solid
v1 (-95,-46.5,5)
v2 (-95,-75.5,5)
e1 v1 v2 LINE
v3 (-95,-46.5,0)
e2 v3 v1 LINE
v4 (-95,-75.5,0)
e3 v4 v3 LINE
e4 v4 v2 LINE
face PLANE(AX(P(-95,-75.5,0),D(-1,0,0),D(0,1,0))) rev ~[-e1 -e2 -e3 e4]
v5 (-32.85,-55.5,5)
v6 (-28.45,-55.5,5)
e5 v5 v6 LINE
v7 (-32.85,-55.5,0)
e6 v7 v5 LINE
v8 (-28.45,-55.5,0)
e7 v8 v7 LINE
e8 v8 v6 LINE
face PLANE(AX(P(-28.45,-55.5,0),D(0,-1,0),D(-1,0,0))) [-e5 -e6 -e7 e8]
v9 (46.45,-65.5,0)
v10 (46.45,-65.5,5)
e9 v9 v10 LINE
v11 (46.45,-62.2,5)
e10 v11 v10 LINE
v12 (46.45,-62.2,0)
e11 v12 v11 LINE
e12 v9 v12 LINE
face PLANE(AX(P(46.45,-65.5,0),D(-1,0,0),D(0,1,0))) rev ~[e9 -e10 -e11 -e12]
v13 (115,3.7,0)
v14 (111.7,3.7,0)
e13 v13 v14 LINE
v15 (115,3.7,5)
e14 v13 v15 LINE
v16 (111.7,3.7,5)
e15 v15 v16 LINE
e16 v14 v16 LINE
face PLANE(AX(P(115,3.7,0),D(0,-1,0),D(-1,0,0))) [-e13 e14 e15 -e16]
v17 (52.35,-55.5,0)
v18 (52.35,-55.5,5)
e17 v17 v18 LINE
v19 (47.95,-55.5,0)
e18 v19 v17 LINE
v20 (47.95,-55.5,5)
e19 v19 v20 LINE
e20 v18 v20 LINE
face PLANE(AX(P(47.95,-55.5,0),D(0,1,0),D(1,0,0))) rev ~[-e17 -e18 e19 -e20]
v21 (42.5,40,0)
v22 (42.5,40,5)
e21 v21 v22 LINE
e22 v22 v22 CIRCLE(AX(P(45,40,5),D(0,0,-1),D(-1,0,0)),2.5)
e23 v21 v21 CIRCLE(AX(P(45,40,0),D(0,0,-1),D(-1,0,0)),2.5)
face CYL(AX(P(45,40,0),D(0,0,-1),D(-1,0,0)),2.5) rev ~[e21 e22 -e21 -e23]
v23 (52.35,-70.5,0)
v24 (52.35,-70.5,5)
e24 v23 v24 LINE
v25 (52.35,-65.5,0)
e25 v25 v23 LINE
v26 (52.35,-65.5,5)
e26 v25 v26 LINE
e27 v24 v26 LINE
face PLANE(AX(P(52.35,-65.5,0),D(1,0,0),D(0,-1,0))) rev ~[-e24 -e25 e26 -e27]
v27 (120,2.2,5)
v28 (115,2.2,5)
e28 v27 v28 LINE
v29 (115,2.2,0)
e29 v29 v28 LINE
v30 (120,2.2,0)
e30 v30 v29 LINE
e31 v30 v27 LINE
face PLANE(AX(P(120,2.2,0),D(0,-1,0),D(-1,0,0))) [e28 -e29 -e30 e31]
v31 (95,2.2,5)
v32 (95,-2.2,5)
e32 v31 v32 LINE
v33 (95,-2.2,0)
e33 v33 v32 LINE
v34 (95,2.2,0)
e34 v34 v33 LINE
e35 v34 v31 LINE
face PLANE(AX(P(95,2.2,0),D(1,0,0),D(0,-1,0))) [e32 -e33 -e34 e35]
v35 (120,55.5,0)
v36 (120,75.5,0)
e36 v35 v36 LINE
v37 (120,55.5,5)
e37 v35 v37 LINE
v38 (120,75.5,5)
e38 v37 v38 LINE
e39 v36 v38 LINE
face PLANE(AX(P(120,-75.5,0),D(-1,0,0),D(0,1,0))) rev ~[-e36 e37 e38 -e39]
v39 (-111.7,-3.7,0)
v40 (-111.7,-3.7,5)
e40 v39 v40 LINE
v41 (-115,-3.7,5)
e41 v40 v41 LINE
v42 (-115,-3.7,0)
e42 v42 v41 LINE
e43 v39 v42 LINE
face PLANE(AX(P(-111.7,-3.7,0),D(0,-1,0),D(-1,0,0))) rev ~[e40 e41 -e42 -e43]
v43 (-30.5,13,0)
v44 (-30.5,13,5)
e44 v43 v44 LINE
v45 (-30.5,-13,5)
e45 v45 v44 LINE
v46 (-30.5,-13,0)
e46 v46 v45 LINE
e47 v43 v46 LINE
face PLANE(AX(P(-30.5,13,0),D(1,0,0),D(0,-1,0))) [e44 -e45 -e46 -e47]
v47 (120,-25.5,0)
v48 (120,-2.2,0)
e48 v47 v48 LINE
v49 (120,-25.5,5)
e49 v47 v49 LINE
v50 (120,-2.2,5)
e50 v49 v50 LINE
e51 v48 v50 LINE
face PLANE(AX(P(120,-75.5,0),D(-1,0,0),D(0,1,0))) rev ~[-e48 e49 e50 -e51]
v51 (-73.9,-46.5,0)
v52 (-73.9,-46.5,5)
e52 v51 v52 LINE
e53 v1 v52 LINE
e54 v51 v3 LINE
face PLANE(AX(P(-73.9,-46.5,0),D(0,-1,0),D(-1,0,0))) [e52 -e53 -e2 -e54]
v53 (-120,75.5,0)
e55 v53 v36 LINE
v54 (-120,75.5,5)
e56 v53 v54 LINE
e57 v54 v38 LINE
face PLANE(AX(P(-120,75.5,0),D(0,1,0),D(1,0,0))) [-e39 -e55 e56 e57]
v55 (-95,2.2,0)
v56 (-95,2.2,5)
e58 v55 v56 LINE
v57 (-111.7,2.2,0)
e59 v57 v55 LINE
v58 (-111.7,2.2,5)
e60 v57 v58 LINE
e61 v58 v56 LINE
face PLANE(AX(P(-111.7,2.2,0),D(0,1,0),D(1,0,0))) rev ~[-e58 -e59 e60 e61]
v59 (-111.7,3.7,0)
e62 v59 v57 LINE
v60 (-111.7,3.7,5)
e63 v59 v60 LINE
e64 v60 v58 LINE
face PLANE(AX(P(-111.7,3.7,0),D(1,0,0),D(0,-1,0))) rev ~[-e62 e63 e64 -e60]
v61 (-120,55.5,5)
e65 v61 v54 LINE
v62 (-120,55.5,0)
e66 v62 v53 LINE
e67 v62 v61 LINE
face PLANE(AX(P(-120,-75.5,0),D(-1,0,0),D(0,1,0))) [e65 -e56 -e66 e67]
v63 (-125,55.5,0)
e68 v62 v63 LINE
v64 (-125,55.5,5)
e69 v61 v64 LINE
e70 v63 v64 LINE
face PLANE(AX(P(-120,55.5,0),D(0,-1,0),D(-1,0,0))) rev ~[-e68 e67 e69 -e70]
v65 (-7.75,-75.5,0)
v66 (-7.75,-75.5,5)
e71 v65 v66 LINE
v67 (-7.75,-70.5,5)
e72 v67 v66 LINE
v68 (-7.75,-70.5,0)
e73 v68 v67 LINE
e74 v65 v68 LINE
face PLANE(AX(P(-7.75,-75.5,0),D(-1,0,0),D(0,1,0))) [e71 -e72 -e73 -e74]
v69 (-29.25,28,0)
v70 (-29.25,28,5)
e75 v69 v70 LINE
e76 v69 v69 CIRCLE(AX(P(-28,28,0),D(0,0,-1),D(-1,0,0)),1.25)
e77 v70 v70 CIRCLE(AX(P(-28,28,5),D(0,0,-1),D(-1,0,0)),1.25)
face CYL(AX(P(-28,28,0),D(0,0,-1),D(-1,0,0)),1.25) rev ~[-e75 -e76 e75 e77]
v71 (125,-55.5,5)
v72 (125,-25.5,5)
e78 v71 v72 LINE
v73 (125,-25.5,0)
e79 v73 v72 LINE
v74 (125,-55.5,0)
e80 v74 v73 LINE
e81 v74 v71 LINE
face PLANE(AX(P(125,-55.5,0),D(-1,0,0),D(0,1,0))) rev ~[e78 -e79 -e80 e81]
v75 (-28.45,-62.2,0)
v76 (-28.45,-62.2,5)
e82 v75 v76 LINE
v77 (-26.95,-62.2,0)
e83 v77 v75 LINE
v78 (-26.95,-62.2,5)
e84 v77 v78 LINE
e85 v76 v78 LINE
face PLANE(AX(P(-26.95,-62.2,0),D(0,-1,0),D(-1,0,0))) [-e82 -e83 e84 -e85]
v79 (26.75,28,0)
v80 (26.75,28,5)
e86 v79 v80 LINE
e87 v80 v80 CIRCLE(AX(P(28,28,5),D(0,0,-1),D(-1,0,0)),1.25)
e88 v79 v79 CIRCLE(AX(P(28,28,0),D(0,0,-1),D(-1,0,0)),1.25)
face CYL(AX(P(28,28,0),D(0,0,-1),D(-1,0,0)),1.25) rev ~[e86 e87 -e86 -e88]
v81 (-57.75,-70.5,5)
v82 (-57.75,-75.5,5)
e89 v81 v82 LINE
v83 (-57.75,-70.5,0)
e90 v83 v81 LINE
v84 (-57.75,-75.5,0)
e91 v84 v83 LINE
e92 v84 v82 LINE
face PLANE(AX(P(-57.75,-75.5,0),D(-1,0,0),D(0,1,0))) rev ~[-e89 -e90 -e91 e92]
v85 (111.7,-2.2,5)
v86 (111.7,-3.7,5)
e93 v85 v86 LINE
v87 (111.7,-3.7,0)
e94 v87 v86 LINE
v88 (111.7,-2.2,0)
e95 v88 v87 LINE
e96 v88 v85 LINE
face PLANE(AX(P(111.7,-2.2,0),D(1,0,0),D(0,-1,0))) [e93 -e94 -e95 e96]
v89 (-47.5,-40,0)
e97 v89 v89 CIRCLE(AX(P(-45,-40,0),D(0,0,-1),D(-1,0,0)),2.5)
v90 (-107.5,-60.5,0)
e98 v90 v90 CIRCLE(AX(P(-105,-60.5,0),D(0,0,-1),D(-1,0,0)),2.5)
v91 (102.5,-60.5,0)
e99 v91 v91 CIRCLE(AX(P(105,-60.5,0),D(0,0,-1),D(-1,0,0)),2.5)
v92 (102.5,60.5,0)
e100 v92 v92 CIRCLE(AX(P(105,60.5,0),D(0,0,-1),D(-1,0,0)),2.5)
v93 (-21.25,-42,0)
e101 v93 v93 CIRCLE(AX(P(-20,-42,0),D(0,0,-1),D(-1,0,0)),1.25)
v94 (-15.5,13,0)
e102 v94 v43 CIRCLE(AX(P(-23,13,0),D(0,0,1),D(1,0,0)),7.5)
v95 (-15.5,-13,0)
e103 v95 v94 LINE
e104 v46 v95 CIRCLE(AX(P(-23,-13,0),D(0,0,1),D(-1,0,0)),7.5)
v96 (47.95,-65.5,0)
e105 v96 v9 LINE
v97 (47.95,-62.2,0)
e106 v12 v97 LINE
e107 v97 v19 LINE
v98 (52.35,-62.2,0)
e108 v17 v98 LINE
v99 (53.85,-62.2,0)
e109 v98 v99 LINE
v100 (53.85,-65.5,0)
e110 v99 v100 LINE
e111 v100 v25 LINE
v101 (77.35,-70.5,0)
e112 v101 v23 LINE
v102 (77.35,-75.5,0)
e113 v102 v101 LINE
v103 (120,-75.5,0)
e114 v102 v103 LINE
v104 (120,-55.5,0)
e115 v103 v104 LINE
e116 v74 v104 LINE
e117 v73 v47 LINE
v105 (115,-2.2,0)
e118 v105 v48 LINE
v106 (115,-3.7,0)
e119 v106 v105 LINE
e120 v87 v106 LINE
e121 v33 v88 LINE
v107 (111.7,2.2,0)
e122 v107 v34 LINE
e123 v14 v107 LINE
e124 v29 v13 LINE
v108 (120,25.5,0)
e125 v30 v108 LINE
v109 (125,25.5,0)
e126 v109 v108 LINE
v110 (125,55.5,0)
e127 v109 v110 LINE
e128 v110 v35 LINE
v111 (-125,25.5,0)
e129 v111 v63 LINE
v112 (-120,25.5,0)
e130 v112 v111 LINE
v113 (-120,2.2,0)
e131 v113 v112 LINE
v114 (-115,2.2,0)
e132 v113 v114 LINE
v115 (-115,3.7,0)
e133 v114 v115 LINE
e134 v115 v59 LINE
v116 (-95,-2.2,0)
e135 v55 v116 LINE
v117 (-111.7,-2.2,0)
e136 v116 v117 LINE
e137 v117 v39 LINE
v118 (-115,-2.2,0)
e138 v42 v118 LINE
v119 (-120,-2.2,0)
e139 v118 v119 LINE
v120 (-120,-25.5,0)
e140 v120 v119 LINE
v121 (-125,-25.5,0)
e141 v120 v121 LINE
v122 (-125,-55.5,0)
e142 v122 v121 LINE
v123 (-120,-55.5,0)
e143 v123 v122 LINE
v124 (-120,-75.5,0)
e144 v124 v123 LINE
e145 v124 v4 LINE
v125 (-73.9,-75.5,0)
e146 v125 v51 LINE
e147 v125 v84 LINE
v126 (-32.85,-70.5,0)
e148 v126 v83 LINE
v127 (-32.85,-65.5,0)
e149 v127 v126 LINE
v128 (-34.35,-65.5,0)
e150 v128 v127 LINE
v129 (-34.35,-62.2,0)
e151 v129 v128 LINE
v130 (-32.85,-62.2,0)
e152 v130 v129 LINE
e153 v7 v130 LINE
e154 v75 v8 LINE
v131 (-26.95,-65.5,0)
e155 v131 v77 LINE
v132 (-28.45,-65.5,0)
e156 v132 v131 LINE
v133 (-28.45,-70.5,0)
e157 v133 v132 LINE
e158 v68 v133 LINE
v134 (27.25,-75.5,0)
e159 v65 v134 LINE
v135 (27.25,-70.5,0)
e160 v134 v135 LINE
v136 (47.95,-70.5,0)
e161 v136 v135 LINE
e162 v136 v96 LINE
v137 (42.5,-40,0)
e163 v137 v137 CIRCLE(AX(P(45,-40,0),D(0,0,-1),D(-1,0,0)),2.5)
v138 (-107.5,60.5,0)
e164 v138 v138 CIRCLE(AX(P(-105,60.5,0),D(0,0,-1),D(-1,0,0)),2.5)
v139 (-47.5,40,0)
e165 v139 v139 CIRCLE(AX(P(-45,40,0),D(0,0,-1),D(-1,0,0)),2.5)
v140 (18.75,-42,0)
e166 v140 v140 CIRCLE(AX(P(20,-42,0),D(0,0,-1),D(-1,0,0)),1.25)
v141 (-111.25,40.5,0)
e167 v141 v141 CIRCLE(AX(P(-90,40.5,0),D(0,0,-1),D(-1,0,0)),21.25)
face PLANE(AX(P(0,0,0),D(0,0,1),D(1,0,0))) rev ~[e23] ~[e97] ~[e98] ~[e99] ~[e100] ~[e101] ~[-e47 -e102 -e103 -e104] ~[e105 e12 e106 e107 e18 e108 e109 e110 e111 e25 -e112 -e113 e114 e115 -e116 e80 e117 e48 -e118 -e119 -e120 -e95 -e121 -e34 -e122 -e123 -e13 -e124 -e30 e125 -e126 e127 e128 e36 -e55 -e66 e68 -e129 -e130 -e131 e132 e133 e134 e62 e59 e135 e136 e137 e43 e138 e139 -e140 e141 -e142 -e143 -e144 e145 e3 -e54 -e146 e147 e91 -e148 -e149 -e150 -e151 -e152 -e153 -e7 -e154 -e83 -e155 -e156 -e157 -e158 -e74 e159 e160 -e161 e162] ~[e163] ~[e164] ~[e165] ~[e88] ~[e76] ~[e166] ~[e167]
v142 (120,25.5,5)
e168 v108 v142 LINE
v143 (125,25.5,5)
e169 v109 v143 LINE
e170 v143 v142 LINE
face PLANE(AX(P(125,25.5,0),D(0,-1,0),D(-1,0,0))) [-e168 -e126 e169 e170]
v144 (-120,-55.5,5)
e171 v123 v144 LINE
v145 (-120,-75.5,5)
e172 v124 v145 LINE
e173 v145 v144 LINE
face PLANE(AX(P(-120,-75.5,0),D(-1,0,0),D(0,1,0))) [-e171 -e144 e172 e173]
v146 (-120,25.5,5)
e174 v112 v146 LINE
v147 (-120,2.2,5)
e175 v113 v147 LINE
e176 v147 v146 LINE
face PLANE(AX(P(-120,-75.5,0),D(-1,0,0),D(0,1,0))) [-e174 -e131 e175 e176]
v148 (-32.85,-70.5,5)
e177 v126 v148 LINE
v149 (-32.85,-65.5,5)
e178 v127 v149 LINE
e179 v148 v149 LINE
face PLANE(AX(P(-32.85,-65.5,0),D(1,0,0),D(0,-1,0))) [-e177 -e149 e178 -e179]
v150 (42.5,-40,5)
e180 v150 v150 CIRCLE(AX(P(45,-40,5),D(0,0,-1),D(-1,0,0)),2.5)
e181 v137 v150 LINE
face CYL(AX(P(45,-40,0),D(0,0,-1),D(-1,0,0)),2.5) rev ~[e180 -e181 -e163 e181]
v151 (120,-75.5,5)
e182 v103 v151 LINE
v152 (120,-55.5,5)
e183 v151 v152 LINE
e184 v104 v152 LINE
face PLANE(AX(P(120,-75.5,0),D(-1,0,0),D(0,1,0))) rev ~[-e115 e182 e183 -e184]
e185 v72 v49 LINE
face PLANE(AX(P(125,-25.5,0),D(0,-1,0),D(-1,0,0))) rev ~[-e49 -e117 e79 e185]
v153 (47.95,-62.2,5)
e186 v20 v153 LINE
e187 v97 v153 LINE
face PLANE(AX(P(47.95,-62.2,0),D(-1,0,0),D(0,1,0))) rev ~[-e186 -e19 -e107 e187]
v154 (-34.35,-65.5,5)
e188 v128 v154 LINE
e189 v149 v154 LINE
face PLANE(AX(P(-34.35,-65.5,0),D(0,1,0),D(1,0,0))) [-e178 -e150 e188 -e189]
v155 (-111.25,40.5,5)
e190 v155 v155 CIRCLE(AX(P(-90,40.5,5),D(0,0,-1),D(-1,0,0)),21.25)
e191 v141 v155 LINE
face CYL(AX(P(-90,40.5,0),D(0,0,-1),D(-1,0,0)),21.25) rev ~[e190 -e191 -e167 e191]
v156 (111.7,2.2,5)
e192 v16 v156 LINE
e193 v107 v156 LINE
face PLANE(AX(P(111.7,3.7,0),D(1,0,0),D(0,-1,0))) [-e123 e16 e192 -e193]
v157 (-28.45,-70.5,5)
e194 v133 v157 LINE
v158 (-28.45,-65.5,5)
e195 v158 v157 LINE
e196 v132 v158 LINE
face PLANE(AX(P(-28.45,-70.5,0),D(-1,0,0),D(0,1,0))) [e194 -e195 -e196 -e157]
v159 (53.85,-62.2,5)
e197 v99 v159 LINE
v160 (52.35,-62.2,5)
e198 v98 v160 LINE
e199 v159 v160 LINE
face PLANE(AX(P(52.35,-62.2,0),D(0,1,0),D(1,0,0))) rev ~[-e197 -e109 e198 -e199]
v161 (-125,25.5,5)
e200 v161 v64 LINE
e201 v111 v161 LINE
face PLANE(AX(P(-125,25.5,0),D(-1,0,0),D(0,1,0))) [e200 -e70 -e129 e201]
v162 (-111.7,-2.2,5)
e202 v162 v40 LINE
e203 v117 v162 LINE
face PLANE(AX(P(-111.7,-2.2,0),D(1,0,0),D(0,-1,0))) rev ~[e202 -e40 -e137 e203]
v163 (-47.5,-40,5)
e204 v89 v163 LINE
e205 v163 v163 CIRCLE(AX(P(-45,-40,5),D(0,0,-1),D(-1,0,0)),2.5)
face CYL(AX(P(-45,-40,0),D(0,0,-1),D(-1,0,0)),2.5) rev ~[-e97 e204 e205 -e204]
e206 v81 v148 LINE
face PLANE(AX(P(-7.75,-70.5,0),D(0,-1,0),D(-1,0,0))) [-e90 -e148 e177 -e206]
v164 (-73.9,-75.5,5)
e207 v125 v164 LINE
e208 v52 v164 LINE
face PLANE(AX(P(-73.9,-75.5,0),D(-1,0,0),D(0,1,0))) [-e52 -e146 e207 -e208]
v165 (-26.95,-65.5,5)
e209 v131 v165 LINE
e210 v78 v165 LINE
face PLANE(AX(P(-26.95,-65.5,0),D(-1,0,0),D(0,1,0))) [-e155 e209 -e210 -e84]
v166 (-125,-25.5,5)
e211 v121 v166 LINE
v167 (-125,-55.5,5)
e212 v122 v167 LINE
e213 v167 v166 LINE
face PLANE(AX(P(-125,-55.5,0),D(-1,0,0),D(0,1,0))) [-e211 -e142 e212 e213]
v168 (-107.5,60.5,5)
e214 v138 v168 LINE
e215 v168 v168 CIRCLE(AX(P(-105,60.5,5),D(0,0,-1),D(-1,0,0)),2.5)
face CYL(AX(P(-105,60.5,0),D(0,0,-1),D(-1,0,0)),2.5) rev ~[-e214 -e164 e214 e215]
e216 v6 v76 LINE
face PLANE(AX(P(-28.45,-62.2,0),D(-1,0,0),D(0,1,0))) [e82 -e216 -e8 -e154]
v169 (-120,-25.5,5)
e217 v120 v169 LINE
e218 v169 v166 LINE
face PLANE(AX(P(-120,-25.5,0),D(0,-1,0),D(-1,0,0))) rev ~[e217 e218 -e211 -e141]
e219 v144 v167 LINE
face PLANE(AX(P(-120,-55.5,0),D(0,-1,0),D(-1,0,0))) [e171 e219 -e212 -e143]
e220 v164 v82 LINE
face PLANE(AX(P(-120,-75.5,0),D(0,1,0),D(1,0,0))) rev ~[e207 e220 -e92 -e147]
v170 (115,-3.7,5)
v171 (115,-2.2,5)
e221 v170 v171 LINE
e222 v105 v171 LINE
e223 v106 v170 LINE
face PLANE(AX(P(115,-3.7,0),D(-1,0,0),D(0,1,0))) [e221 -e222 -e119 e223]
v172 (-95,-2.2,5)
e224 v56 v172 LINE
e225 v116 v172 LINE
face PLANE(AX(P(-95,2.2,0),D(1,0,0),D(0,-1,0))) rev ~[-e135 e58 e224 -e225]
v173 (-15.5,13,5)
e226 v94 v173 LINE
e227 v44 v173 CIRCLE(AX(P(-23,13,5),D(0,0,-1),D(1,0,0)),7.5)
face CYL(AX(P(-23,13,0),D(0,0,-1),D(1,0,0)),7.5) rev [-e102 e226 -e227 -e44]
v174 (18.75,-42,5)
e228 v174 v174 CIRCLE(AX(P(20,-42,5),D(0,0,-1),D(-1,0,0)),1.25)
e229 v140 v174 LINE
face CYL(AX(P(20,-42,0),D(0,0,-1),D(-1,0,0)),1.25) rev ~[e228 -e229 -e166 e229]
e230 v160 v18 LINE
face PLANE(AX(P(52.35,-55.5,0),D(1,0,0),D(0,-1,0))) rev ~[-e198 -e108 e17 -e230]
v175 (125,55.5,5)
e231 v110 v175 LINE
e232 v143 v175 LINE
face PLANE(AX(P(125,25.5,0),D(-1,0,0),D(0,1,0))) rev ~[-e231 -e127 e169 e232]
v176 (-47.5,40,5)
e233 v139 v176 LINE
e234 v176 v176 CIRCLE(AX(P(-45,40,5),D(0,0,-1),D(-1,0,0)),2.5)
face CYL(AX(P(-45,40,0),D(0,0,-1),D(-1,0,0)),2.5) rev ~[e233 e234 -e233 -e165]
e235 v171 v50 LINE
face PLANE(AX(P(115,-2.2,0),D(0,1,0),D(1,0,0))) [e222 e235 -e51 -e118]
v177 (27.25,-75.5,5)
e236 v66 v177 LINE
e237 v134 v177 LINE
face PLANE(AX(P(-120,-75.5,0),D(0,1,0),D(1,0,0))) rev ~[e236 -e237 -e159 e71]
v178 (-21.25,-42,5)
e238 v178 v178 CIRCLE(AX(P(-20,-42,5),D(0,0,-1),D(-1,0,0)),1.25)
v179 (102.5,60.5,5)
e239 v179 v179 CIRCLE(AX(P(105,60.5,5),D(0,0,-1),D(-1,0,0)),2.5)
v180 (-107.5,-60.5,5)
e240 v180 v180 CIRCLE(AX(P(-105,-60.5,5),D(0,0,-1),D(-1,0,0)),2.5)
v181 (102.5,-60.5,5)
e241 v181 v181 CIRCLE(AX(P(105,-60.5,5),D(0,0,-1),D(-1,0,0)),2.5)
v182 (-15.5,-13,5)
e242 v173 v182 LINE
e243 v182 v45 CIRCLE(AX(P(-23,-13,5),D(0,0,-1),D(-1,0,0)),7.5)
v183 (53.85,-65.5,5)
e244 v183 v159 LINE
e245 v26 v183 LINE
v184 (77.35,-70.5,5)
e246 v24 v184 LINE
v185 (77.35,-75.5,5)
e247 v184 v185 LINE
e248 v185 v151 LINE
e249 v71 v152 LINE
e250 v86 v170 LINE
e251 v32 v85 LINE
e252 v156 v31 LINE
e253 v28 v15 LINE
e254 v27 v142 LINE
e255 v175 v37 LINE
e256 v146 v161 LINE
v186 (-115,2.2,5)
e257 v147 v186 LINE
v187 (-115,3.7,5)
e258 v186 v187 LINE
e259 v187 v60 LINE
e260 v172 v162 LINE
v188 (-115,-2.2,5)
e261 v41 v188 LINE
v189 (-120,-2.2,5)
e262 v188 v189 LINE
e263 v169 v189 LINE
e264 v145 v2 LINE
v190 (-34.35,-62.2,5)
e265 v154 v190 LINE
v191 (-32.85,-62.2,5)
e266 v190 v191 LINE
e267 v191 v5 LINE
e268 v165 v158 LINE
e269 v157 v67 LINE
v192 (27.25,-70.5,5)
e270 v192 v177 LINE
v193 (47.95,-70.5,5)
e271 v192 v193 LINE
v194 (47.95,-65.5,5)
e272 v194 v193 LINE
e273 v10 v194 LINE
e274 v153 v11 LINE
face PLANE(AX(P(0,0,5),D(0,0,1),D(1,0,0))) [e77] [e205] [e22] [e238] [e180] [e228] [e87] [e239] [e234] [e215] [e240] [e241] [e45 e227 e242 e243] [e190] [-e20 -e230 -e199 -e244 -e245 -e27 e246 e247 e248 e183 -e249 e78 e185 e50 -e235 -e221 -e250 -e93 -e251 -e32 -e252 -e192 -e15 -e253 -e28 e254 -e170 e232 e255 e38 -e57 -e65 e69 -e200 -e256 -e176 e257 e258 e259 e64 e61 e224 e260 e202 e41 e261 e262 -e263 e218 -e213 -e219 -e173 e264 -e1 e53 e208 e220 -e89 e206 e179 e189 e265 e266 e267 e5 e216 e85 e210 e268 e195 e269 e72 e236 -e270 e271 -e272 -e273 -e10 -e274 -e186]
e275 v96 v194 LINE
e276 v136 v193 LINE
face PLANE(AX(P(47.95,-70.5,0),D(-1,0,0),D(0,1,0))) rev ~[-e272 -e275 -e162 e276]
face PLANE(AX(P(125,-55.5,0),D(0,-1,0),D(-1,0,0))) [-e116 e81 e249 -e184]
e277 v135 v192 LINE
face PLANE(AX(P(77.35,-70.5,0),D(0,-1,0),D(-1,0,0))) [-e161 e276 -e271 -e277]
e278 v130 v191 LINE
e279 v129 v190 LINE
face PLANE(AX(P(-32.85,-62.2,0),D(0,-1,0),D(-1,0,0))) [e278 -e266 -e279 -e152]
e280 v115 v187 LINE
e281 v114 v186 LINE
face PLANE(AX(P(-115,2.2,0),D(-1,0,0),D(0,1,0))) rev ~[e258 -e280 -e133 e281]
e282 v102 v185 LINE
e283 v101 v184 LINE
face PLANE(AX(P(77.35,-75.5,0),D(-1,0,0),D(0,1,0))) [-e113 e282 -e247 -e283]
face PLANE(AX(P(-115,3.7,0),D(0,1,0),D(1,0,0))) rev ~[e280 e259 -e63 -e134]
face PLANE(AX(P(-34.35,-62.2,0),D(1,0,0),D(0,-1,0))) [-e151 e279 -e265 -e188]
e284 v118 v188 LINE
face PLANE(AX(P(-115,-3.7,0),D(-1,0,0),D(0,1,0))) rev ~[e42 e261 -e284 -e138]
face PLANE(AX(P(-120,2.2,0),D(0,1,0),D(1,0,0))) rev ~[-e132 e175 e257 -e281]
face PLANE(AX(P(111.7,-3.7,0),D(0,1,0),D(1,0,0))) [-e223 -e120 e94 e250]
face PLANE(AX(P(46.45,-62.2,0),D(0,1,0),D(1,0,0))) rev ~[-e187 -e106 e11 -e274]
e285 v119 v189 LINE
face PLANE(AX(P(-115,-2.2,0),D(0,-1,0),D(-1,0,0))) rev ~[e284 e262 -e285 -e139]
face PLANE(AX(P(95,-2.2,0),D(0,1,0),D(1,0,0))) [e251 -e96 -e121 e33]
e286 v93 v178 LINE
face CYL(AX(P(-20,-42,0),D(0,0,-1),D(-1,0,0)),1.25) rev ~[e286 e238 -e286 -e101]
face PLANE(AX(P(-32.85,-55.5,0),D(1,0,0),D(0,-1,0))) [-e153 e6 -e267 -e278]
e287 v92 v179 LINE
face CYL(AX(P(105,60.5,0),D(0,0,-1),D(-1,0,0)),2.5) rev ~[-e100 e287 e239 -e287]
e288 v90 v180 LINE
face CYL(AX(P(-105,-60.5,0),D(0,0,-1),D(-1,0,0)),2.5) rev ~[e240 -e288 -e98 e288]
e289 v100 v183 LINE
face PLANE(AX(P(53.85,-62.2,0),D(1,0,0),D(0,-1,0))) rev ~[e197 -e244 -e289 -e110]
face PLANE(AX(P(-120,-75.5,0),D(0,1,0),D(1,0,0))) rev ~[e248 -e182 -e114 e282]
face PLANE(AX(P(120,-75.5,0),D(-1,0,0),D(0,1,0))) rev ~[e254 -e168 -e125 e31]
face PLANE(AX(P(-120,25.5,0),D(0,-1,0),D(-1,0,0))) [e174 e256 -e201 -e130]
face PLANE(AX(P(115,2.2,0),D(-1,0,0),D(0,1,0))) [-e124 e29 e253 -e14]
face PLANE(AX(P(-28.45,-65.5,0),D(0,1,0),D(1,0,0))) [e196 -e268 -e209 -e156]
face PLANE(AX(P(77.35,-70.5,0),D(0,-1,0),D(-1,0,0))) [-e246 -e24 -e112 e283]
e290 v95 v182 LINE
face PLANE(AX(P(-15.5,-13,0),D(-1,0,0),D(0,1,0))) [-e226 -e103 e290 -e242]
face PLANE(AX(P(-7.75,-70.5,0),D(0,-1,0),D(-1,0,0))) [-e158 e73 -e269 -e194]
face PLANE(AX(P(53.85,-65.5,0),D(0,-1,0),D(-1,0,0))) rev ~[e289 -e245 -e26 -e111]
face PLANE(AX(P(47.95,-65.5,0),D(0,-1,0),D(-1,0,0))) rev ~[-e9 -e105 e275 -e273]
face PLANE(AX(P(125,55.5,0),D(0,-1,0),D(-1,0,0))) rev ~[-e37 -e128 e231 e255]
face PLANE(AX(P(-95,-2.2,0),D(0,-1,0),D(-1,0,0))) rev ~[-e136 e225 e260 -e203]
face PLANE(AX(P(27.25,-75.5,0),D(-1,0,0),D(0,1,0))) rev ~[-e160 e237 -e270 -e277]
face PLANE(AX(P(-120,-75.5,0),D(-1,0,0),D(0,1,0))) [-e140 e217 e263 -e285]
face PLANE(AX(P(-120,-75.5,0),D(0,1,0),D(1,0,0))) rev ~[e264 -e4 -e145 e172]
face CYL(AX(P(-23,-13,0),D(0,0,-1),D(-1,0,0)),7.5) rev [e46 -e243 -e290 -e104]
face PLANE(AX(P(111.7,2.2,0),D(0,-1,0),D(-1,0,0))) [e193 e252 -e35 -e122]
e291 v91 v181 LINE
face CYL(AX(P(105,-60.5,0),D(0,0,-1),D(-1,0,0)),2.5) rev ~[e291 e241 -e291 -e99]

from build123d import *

# Parameters (mm, degrees)
SKETCH1_W           = 240
SKETCH1_H           = 151
BOSS_EXTRUDE1_DEPTH = 5
SKETCH2_R           = 1.25
CUT_EXTRUDE1_DEPTH  = 5
CUT_EXTRUDE2_DEPTH  = 10
SKETCH6_R           = 2.5
CUT_EXTRUDE3_DEPTH  = 10
SKETCH7_R           = 2.5
CUT_EXTRUDE4_DEPTH  = 10
SKETCH8_W           = 21.1
SKETCH8_H           = 29
CUT_EXTRUDE5_DEPTH  = 10
SKETCH9_W           = 5
SKETCH9_H           = 30
BOSS_EXTRUDE2_DEPTH = 5
CUT_EXTRUDE6_DEPTH  = 5
SKETCH11_W          = 50
SKETCH11_H          = 5
SKETCH11_W_2        = 50.1
CUT_EXTRUDE7_DEPTH  = 10
CUT_EXTRUDE8_DEPTH  = 10
SKETCH15_R          = 21.25
CUT_EXTRUDE9_DEPTH  = 10


with BuildPart() as part:
    # Sketch1 → Boss-Extrude1 (new body)
    with BuildSketch(Plane.XY):
        Rectangle(SKETCH1_W, SKETCH1_H)
    extrude(amount=BOSS_EXTRUDE1_DEPTH)

    # Sketch2 → Cut-Extrude1 (cut)
    with BuildSketch(Plane(origin=(0, 0, 0), x_dir=(-1, 0, 0), z_dir=(0, 0, -1))):
        with Locations((28, 28)):
            Circle(SKETCH2_R)
        with Locations((-28, 28)):
            Circle(SKETCH2_R)
        with Locations((20, -42)):
            Circle(SKETCH2_R)
        with Locations((-20, -42)):
            Circle(SKETCH2_R)
    extrude(amount=-CUT_EXTRUDE1_DEPTH, mode=Mode.SUBTRACT)

    # Sketch5 → Cut-Extrude2 (cut)
    with BuildSketch(Plane(origin=(0, 0, 0), x_dir=(-1, 0, 0), z_dir=(0, 0, -1))):
        with BuildLine():
            Line((15.5, -13), (15.5, 13))
            ThreePointArc((15.5, 13), (23, 20.5), (30.5, 13))
            Line((30.5, 13), (30.5, -13))
            ThreePointArc((30.5, -13), (23, -20.5), (15.5, -13))
        make_face()
    extrude(amount=-CUT_EXTRUDE2_DEPTH, mode=Mode.SUBTRACT)

    # Sketch6 → Cut-Extrude3 (cut)
    with BuildSketch(Plane(origin=(0, 0, 0), x_dir=(-1, 0, 0), z_dir=(0, 0, -1))):
        with Locations((-105, 60.5)):
            Circle(SKETCH6_R)
        with Locations((-105, -60.5)):
            Circle(SKETCH6_R)
        with Locations((105, -60.5)):
            Circle(SKETCH6_R)
        with Locations((105, 60.5)):
            Circle(SKETCH6_R)
    extrude(amount=-CUT_EXTRUDE3_DEPTH, mode=Mode.SUBTRACT)

    # Sketch7 → Cut-Extrude4 (cut)
    with BuildSketch(Plane(origin=(0, 0, 0), x_dir=(-1, 0, 0), z_dir=(0, 0, -1))):
        with Locations((45, 40)):
            Circle(SKETCH7_R)
        with Locations((45, -40)):
            Circle(SKETCH7_R)
        with Locations((-45, 40)):
            Circle(SKETCH7_R)
        with Locations((-45, -40)):
            Circle(SKETCH7_R)
    extrude(amount=-CUT_EXTRUDE4_DEPTH, mode=Mode.SUBTRACT)

    # Sketch8 → Cut-Extrude5 (cut)
    with BuildSketch(Plane(origin=(0, 0, 0), x_dir=(-1, 0, 0), z_dir=(0, 0, -1))):
        with Locations((84.45, -61)):
            Rectangle(SKETCH8_W, SKETCH8_H)
    extrude(amount=-CUT_EXTRUDE5_DEPTH, mode=Mode.SUBTRACT)

    # Sketch9 → Boss-Extrude2 (add)
    with BuildSketch(Plane(origin=(0, 0, 0), x_dir=(-1, 0, 0), z_dir=(0, 0, -1))):
        with Locations((122.5, 40.5)):
            Rectangle(SKETCH9_W, SKETCH9_H)
        with Locations((122.5, -40.5)):
            Rectangle(SKETCH9_W, SKETCH9_H)
        with Locations((-122.5, -40.5)):
            Rectangle(SKETCH9_W, SKETCH9_H)
        with Locations((-122.5, 40.5)):
            Rectangle(SKETCH9_W, SKETCH9_H)
    extrude(amount=-BOSS_EXTRUDE2_DEPTH)

    # Sketch10 → Cut-Extrude6 (cut)
    with BuildSketch(Plane(origin=(0, 0, 0), x_dir=(-1, 0, 0), z_dir=(0, 0, -1))):
        Polygon((-120, 2.2), (-115, 2.2), (-115, 3.7), (-111.7, 3.7), (-111.7, 2.2), (-95, 2.2), (-95, -2.2), (-111.7, -2.2), (-111.7, -3.7), (-115, -3.7), (-115, -2.2), (-120, -2.2), align=None)
        Polygon((115, -2.2), (120, -2.2), (120, 2.2), (115, 2.2), (115, 3.7), (111.7, 3.7), (111.7, 2.2), (95, 2.2), (95, -2.2), (111.7, -2.2), (111.7, -3.7), (115, -3.7), align=None)
    extrude(amount=-CUT_EXTRUDE6_DEPTH, mode=Mode.SUBTRACT)

    # Sketch11 → Cut-Extrude7 (cut)
    with BuildSketch(Plane(origin=(0, 0, 0), x_dir=(-1, 0, 0), z_dir=(0, 0, -1))):
        with Locations((32.75, -73)):
            Rectangle(SKETCH11_W, SKETCH11_H)
        with Locations((-52.3, -73)):
            Rectangle(SKETCH11_W_2, SKETCH11_H)
    extrude(amount=-CUT_EXTRUDE7_DEPTH, mode=Mode.SUBTRACT)

    # Sketch12 → Cut-Extrude8 (cut)
    with BuildSketch(Plane(origin=(0, 0, 0), x_dir=(-1, 0, 0), z_dir=(0, 0, -1))):
        Polygon((-52.35, -55.5), (-52.35, -62.2), (-53.85, -62.2), (-53.85, -65.5), (-52.35, -65.5), (-52.35, -70.5), (-47.95, -70.5), (-47.95, -65.5), (-46.45, -65.5), (-46.45, -62.2), (-47.95, -62.2), (-47.95, -55.5), align=None)
        Polygon((32.85, -70.5), (28.45, -70.5), (28.45, -65.5), (26.95, -65.5), (26.95, -62.2), (28.45, -62.2), (28.45, -55.5), (32.85, -55.5), (32.85, -62.2), (34.35, -62.2), (34.35, -65.5), (32.85, -65.5), align=None)
    extrude(amount=-CUT_EXTRUDE8_DEPTH, mode=Mode.SUBTRACT)

    # Sketch15 → Cut-Extrude9 (cut)
    with BuildSketch(Plane(origin=(0, 0, 0), x_dir=(-1, 0, 0), z_dir=(0, 0, -1))):
        with Locations((90, 40.5)):
            Circle(SKETCH15_R)
    extrude(amount=-CUT_EXTRUDE9_DEPTH, mode=Mode.SUBTRACT)


solid = part.part
